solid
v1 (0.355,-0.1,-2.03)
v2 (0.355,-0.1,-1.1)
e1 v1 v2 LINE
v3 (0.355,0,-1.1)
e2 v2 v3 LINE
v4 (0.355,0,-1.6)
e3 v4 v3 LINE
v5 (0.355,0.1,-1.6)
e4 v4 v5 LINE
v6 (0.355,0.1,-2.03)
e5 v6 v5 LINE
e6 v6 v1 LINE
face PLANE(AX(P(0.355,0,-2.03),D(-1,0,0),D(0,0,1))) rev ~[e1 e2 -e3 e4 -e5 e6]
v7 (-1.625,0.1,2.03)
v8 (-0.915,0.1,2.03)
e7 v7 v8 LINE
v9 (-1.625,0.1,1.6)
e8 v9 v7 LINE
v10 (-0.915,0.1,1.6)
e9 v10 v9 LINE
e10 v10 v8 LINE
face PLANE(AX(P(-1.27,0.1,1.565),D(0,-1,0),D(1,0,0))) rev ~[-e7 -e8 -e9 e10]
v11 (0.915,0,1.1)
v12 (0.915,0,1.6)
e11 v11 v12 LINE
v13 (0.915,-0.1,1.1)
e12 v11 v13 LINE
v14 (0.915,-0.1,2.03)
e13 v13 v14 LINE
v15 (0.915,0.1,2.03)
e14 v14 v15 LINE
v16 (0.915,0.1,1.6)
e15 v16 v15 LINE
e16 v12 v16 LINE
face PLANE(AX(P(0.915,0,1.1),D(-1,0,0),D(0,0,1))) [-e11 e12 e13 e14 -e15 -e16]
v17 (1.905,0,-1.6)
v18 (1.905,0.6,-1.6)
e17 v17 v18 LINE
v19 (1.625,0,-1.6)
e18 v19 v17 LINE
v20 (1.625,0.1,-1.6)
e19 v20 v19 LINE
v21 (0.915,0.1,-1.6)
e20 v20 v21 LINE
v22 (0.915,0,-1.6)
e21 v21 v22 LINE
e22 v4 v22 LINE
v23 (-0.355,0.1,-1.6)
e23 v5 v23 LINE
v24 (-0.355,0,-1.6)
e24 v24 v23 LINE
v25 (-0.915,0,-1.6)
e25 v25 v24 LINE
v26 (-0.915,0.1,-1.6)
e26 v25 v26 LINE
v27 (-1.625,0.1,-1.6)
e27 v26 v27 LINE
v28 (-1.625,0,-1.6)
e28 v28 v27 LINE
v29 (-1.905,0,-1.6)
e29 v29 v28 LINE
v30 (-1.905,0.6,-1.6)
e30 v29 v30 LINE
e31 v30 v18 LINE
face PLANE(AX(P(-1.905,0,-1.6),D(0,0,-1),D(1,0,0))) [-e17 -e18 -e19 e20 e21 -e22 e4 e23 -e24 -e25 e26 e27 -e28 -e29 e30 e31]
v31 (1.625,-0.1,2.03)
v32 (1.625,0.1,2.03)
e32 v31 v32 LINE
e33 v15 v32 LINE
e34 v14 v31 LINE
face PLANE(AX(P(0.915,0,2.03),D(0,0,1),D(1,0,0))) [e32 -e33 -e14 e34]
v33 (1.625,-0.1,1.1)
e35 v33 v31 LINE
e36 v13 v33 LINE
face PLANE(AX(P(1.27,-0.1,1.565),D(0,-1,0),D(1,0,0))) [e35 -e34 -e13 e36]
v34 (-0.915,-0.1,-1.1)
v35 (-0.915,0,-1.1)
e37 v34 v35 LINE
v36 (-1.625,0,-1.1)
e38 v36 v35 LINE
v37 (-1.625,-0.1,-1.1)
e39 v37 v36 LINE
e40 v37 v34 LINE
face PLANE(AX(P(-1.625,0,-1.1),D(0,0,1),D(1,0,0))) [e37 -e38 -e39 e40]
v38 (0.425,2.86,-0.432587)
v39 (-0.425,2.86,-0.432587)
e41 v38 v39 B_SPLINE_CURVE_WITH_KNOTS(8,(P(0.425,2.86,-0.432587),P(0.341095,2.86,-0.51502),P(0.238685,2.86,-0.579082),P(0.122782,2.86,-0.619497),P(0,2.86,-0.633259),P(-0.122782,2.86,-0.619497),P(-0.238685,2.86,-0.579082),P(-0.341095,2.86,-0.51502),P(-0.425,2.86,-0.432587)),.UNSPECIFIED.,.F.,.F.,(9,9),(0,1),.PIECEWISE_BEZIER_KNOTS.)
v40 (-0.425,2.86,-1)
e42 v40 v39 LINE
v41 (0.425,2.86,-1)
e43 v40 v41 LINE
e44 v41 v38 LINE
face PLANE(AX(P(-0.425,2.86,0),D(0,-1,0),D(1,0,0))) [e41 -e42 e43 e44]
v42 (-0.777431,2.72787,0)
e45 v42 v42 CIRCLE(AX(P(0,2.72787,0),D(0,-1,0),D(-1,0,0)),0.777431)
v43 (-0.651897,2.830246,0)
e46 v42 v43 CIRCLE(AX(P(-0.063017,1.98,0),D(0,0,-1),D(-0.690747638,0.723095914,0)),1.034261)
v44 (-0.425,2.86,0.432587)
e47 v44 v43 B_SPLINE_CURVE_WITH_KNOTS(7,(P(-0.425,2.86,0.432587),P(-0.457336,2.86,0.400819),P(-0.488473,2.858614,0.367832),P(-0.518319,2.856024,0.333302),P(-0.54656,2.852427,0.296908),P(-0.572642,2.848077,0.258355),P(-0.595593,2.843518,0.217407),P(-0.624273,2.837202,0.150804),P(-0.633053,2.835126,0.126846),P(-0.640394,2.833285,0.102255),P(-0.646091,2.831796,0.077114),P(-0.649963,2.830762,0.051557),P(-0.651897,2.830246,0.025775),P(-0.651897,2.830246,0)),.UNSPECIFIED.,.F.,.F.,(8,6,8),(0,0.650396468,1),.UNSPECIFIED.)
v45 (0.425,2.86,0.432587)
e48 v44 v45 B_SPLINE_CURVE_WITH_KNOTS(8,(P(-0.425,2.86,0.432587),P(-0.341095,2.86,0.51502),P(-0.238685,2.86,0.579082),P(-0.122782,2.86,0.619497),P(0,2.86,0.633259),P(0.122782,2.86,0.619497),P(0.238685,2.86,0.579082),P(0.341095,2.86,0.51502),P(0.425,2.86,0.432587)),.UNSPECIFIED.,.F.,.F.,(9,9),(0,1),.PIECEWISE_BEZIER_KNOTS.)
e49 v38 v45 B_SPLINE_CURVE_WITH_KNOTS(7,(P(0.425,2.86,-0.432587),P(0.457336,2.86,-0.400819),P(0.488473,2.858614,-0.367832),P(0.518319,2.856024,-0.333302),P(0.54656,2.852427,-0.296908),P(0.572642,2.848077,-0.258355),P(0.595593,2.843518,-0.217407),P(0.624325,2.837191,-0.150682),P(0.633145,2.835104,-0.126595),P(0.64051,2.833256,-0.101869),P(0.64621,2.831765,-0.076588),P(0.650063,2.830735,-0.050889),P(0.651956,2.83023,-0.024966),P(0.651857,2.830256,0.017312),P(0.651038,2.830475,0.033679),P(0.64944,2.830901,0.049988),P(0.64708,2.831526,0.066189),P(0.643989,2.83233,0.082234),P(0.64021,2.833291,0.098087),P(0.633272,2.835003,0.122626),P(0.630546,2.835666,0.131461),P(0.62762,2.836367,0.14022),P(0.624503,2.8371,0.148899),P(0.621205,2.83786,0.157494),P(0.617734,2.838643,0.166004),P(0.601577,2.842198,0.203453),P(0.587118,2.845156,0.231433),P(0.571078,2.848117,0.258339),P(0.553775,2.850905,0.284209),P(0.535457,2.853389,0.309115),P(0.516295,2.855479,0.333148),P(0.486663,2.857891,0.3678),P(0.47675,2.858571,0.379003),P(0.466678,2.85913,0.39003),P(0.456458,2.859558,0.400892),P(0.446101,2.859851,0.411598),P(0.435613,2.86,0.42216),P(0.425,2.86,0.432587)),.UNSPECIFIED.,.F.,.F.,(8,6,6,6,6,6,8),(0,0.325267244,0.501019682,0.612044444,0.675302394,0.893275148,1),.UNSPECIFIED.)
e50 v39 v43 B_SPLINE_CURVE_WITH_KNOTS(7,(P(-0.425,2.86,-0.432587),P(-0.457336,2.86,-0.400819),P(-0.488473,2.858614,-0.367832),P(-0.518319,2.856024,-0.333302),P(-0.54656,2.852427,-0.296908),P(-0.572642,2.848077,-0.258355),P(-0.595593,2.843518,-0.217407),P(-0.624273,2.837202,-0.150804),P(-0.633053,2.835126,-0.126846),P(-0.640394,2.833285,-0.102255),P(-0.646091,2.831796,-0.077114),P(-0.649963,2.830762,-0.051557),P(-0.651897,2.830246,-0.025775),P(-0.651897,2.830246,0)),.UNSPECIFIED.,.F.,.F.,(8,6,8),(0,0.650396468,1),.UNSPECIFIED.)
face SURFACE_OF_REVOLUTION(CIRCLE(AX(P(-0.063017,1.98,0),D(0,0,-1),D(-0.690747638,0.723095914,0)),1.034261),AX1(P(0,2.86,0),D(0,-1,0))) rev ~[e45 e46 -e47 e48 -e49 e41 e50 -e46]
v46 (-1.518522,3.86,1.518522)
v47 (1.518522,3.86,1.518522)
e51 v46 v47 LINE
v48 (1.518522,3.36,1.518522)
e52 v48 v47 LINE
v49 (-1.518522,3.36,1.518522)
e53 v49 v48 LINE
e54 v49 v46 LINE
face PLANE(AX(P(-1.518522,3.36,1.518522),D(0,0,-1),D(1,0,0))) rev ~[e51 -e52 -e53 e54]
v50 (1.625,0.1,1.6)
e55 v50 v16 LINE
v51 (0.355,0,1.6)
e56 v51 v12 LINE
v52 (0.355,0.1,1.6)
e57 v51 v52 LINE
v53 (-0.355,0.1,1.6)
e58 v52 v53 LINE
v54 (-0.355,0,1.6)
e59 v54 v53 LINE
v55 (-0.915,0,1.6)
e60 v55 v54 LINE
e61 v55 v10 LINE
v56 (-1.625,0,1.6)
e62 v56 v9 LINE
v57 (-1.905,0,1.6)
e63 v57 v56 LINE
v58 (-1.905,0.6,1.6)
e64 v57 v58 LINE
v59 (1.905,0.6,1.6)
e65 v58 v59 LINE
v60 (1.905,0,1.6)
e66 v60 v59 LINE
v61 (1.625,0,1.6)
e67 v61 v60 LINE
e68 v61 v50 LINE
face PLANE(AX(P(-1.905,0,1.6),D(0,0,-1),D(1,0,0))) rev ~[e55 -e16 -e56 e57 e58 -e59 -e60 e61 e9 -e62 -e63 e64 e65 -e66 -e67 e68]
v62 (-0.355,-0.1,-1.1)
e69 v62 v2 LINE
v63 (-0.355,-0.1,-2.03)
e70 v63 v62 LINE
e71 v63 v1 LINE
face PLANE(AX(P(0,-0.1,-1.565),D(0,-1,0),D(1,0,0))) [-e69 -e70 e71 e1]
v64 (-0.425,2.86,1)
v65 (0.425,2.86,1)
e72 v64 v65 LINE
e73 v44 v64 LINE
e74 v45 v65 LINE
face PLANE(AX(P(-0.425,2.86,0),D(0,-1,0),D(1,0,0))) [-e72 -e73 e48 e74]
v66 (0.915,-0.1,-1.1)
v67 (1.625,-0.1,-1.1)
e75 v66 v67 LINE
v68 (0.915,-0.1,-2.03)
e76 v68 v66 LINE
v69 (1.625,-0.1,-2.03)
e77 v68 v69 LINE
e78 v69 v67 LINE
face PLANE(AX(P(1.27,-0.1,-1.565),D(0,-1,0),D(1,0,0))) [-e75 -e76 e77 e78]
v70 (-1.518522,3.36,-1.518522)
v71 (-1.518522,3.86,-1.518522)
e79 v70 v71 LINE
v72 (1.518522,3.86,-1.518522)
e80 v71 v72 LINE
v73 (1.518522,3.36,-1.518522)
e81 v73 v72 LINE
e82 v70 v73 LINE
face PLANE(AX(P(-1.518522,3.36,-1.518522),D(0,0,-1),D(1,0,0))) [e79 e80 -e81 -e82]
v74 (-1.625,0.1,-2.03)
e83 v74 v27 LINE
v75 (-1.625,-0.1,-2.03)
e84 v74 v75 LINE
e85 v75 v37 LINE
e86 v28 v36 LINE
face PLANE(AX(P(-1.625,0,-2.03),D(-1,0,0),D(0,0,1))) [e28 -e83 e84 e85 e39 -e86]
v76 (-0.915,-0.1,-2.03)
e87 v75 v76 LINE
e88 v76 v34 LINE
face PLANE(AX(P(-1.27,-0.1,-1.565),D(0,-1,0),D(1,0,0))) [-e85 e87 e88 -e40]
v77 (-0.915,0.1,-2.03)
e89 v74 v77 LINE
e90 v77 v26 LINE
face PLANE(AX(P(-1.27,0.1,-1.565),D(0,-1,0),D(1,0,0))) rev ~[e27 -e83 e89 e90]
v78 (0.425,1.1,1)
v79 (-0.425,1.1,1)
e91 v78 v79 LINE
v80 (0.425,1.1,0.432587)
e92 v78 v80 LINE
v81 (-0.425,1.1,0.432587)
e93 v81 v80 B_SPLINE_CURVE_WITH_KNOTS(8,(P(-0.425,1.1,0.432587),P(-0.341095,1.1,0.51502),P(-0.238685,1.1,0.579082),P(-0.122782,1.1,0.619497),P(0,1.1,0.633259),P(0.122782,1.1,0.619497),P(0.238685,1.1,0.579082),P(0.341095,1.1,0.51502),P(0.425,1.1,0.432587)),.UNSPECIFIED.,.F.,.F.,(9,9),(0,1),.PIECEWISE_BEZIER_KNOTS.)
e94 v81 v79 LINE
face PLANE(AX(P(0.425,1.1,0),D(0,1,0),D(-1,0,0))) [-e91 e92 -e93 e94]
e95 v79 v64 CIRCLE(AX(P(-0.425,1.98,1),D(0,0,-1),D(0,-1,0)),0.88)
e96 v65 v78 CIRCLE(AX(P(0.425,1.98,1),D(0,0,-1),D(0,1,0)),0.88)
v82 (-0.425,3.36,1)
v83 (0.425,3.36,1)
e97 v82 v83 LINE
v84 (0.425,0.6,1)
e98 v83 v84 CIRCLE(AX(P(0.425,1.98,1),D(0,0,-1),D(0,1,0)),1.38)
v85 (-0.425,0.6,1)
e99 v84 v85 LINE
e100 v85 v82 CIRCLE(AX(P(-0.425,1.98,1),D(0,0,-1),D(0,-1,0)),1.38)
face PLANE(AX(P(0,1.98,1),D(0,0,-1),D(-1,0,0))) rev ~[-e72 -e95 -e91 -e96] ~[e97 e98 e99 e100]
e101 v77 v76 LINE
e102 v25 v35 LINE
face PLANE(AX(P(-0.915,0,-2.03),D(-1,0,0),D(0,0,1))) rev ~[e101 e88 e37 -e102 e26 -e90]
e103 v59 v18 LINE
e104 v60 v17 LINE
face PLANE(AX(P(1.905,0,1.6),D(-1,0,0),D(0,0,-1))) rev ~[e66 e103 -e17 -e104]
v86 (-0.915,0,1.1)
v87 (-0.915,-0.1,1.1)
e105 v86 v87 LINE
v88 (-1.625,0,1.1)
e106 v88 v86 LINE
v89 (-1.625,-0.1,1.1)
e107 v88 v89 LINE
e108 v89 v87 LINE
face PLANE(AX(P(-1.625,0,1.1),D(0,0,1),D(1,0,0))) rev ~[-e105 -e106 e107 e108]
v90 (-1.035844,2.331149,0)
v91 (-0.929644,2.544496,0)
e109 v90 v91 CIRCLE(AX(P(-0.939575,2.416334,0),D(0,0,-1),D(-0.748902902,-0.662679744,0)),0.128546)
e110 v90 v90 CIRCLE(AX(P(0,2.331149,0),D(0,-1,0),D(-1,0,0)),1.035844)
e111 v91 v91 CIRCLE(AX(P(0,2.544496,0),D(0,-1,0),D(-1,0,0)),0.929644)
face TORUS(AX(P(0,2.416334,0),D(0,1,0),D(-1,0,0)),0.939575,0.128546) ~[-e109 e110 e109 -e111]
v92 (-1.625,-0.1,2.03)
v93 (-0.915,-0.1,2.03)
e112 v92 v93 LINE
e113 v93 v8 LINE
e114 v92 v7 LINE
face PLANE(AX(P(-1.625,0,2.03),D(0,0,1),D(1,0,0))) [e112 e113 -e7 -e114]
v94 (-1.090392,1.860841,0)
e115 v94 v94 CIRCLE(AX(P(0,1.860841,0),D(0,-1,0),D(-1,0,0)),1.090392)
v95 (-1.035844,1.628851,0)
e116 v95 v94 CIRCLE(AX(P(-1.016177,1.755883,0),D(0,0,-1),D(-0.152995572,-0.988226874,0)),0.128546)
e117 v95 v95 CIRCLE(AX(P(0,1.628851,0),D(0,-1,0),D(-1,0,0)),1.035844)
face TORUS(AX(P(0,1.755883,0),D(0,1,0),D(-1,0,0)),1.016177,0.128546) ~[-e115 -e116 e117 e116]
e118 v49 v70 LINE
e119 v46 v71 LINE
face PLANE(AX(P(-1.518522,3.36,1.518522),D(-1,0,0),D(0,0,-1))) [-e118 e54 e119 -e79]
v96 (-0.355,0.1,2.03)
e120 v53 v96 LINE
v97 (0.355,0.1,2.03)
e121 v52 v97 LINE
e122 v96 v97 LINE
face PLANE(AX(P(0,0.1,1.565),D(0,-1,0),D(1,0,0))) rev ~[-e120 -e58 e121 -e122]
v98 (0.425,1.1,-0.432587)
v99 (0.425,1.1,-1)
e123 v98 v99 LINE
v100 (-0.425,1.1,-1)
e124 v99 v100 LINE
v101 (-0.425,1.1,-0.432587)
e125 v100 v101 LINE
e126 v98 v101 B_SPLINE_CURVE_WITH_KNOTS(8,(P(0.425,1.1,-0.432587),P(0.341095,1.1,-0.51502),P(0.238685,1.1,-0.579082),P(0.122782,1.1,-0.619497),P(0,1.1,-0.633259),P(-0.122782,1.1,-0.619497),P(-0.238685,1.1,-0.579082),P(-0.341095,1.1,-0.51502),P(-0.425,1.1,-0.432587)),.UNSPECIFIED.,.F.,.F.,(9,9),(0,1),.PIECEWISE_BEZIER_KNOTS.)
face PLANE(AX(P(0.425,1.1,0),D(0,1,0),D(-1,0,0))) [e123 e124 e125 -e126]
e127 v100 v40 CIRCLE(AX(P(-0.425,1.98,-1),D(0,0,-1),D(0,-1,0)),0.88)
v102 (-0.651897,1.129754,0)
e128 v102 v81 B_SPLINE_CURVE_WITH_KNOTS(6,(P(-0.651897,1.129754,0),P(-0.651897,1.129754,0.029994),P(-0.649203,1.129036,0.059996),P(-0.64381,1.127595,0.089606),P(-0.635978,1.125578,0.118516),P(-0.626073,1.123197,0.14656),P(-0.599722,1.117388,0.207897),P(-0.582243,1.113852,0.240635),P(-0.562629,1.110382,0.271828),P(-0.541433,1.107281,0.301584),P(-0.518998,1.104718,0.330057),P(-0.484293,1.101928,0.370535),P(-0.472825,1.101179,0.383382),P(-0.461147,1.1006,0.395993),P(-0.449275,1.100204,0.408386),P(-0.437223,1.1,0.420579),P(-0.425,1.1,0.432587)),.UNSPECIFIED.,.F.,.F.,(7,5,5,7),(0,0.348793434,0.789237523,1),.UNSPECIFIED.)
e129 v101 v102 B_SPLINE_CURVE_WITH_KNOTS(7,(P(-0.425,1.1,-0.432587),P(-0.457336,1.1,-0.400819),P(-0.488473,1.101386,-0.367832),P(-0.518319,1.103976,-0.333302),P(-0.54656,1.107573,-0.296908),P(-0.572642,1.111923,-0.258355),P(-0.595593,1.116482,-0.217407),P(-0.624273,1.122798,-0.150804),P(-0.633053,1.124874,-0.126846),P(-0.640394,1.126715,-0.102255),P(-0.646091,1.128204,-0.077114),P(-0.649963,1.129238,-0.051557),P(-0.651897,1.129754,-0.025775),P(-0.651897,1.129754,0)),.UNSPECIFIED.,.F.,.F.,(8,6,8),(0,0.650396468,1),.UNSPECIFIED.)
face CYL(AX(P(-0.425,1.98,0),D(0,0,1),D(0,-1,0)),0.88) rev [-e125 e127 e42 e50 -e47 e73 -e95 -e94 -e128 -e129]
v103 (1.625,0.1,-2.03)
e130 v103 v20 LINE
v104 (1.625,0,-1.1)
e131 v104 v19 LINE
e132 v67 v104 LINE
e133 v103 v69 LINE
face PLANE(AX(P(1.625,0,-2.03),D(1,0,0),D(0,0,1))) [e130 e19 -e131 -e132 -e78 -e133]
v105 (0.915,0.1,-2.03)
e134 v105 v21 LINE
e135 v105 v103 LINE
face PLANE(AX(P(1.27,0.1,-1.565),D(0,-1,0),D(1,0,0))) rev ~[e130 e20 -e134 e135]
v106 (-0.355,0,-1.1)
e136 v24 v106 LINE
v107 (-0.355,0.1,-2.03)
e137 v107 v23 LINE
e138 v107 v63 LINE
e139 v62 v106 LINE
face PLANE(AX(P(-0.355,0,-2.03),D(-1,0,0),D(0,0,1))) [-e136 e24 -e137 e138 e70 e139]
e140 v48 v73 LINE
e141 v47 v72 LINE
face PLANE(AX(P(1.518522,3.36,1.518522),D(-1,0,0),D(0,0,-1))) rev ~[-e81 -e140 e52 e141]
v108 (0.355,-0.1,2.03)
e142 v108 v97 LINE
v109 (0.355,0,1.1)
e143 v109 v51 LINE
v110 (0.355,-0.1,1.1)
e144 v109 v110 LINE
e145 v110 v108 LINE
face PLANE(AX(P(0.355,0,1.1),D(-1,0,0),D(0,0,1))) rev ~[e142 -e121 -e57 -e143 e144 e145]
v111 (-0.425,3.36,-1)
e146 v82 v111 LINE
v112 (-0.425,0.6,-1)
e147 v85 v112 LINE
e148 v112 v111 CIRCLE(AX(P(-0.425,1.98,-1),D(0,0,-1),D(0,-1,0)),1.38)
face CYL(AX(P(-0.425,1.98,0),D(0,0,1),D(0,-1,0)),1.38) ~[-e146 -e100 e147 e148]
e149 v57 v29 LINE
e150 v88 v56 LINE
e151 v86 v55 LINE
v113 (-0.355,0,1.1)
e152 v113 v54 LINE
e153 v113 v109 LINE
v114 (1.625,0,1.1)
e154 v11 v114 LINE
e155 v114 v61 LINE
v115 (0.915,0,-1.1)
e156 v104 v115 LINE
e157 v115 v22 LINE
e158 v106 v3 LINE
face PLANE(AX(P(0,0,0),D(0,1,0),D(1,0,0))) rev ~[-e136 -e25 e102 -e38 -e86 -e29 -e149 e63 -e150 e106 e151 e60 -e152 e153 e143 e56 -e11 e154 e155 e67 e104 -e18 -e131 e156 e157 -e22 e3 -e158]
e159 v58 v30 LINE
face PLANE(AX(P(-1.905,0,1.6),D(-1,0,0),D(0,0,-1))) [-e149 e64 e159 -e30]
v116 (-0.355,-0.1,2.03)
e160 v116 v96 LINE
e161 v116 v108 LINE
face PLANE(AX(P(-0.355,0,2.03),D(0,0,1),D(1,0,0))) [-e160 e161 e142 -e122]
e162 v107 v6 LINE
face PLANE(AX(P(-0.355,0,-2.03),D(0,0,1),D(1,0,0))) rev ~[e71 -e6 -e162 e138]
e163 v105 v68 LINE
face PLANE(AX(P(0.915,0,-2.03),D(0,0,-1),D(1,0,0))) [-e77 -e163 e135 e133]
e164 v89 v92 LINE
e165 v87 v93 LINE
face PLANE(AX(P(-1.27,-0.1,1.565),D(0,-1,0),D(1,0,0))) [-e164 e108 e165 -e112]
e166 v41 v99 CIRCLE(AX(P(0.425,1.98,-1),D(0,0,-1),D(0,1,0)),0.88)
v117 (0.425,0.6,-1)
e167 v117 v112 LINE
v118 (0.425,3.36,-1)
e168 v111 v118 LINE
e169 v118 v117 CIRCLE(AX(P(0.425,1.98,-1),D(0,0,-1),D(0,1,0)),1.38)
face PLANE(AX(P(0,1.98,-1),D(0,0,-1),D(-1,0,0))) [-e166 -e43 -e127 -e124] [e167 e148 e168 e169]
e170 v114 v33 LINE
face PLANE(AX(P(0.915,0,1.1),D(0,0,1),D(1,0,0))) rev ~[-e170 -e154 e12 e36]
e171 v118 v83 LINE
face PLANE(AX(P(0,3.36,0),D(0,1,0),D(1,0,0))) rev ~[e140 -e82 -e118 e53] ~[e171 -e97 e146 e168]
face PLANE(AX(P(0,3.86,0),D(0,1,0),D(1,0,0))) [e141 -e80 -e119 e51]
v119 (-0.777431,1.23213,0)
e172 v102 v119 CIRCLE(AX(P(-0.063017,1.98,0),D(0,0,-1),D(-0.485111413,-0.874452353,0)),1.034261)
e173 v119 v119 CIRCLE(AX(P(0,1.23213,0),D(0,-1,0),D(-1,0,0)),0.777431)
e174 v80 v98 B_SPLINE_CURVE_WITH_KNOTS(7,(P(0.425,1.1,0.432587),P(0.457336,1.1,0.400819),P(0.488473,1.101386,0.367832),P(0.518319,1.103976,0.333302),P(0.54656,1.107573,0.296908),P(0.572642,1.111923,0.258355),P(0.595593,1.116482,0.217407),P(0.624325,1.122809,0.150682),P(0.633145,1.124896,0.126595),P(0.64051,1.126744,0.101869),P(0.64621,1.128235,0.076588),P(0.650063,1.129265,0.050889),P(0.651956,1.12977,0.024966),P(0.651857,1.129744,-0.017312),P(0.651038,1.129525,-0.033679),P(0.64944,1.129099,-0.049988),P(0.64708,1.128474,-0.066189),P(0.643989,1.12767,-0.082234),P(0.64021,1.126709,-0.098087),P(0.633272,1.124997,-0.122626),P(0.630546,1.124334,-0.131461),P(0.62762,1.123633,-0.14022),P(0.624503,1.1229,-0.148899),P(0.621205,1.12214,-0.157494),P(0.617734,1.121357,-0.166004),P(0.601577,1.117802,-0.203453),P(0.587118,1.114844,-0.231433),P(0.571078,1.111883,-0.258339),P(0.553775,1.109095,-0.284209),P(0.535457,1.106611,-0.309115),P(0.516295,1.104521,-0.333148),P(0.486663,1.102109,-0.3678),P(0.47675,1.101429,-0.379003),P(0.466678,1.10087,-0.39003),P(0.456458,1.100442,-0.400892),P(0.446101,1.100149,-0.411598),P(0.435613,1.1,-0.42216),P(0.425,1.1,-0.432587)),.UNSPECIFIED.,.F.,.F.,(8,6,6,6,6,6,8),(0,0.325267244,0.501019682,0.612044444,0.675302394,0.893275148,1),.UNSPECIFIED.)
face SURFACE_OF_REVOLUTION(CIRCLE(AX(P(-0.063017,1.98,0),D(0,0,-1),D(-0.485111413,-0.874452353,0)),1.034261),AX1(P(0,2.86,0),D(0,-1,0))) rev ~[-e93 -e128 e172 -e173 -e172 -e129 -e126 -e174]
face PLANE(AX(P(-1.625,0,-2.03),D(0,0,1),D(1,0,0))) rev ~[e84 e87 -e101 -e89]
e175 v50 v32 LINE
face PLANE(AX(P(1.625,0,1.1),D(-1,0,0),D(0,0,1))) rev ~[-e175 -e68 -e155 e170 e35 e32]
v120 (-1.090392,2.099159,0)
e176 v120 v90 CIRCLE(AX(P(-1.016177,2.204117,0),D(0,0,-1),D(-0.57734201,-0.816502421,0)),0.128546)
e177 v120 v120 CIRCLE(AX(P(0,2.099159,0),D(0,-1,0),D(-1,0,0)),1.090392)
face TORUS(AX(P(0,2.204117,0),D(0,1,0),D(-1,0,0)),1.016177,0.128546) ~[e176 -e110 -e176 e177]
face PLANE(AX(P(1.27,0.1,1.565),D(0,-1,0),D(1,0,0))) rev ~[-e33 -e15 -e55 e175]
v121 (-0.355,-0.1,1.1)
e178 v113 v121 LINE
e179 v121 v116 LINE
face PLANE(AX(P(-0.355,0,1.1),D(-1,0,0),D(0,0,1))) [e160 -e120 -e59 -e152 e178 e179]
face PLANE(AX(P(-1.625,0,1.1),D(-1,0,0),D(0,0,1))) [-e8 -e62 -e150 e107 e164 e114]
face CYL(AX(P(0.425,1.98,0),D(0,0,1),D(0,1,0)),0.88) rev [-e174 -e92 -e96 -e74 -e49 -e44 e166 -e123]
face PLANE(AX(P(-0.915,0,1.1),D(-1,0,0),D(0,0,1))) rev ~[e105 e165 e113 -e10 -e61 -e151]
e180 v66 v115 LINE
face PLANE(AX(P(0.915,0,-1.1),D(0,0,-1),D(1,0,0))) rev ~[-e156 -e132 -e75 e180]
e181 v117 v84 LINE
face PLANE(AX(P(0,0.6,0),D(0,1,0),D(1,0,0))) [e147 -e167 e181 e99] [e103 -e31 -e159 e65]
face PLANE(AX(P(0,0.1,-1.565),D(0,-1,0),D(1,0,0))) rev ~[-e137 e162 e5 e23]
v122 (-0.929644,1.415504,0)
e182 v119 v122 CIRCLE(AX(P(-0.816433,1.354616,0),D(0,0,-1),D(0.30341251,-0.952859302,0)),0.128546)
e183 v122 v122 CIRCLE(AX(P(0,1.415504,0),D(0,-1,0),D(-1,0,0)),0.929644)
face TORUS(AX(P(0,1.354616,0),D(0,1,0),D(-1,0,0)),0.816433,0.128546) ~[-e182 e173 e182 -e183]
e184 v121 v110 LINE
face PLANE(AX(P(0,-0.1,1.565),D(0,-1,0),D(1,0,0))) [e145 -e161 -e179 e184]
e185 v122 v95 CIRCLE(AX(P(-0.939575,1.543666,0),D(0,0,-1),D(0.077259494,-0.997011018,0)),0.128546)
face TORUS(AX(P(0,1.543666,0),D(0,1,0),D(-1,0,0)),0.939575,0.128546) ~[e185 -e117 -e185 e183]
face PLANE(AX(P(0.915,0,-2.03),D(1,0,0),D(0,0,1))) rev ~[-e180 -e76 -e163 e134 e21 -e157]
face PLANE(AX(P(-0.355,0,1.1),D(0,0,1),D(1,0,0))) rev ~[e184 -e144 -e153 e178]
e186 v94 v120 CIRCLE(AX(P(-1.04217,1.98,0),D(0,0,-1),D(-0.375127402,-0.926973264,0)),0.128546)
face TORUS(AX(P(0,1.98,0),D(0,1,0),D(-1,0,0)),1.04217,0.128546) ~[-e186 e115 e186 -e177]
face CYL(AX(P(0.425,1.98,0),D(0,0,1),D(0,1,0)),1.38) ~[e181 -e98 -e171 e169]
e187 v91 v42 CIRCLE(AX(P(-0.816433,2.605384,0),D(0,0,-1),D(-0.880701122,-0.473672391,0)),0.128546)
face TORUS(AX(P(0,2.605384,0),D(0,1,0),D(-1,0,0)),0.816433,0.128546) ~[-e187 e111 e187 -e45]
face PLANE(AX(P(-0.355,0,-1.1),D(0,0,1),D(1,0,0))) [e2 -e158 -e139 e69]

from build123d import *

# Parameters (mm, degrees)
SKETCH1_W           = 3.81
SKETCH1_H           = 3.2
BOSS_EXTRUDE1_DEPTH = 0.6
SKETCH2_W           = 0.71
SKETCH2_H           = 0.93
BOSS_EXTRUDE2_DEPTH = 0.1
BOSS_EXTRUDE3_DEPTH = 1
SKETCH6_W           = 3.037044722
SKETCH6_H           = 3.037044722
BOSS_EXTRUDE4_DEPTH = 0.5


with BuildPart() as part:
    # Sketch1 → Boss-Extrude1 (new body)
    with BuildSketch(Plane(origin=(0, 0, 0), x_dir=(1, 0, 0), z_dir=(0, 1, 0))):
        Rectangle(SKETCH1_W, SKETCH1_H)
    extrude(amount=BOSS_EXTRUDE1_DEPTH)

    # Sketch2 → Boss-Extrude2 (add, symmetric)
    with BuildSketch(Plane.XZ):
        with Locations((0, 1.565)):
            Rectangle(SKETCH2_W, SKETCH2_H)
        with Locations((1.27, 1.565)):
            Rectangle(SKETCH2_W, SKETCH2_H)
        with Locations((-1.27, 1.565)):
            Rectangle(SKETCH2_W, SKETCH2_H)
        with Locations((-1.27, -1.565)):
            Rectangle(SKETCH2_W, SKETCH2_H)
        with Locations((0, -1.565)):
            Rectangle(SKETCH2_W, SKETCH2_H)
        with Locations((1.27, -1.565)):
            Rectangle(SKETCH2_W, SKETCH2_H)
    extrude(amount=BOSS_EXTRUDE2_DEPTH, both=True)

    # Sketch3 → Boss-Extrude3 (add, symmetric)
    with BuildSketch(Plane.XY):
        with BuildLine():
            Line((0.425, 0.6), (-0.425, 0.6))
            ThreePointArc((-0.425, 0.6), (-1.805, 1.98), (-0.425, 3.36))
            Line((-0.425, 3.36), (0.425, 3.36))
            ThreePointArc((0.425, 3.36), (1.805, 1.98), (0.425, 0.6))
        make_face()
        with BuildLine():
            Line((0.425, 1.1), (-0.425, 1.1))
            ThreePointArc((-0.425, 1.1), (-1.305, 1.98), (-0.425, 2.86))
            Line((-0.425, 2.86), (0.425, 2.86))
            ThreePointArc((0.425, 2.86), (1.305, 1.98), (0.425, 1.1))
        make_face(mode=Mode.SUBTRACT)
    extrude(amount=BOSS_EXTRUDE3_DEPTH, both=True)

    # Sketch4 → Revolve1 (revolve)
    with BuildSketch(Plane.XY):
        with BuildLine():
            Line((-0.564749258, 2.884412409), (-0.244079314, 2.884412409))
            Line((-0.244079314, 2.884412409), (-0.244079314, 2.86))
            Line((-0.244079314, 2.86), (0, 2.86))
            Line((0, 2.86), (0, 1.1))
            Line((0, 1.1), (-0.244079314, 1.1))
            Line((-0.244079314, 1.1), (-0.244079314, 1.075587591))
            Line((-0.244079314, 1.075587591), (-0.564749258, 1.075587591))
            ThreePointArc((-0.564749258, 1.075587591), (-0.676106899, 1.147042688), (-0.777430888, 1.232129728))
            ThreePointArc((-0.777430888, 1.232129728), (-0.915343808, 1.272513751), (-0.929643812, 1.415504494))
            ThreePointArc((-0.929643812, 1.415504494), (-1.054652094, 1.486383069), (-1.035843582, 1.628850899))
            ThreePointArc((-1.035843582, 1.628850899), (-1.141309966, 1.726460758), (-1.090391567, 1.860841409))
            ThreePointArc((-1.090391567, 1.860841409), (-1.170716363, 1.98), (-1.090391567, 2.099158591))
            ThreePointArc((-1.090391567, 2.099158591), (-1.141309966, 2.233539242), (-1.035843582, 2.331149101))
            ThreePointArc((-1.035843582, 2.331149101), (-1.054652094, 2.473616931), (-0.929643812, 2.544495506))
            ThreePointArc((-0.929643812, 2.544495506), (-0.915343808, 2.687486249), (-0.777430888, 2.727870272))
            ThreePointArc((-0.777430888, 2.727870272), (-0.676106899, 2.812957312), (-0.564749258, 2.884412409))
        make_face()
    revolve(axis=Axis((0, 2.86, 0), (0, -1, 0)))

    # Sketch6 → Boss-Extrude4 (add)
    with BuildSketch(Plane(origin=(0, 3.36, 0), x_dir=(1, 0, 0), z_dir=(0, 1, 0))):
        Rectangle(SKETCH6_W, SKETCH6_H)
    extrude(amount=BOSS_EXTRUDE4_DEPTH)


solid = part.part
